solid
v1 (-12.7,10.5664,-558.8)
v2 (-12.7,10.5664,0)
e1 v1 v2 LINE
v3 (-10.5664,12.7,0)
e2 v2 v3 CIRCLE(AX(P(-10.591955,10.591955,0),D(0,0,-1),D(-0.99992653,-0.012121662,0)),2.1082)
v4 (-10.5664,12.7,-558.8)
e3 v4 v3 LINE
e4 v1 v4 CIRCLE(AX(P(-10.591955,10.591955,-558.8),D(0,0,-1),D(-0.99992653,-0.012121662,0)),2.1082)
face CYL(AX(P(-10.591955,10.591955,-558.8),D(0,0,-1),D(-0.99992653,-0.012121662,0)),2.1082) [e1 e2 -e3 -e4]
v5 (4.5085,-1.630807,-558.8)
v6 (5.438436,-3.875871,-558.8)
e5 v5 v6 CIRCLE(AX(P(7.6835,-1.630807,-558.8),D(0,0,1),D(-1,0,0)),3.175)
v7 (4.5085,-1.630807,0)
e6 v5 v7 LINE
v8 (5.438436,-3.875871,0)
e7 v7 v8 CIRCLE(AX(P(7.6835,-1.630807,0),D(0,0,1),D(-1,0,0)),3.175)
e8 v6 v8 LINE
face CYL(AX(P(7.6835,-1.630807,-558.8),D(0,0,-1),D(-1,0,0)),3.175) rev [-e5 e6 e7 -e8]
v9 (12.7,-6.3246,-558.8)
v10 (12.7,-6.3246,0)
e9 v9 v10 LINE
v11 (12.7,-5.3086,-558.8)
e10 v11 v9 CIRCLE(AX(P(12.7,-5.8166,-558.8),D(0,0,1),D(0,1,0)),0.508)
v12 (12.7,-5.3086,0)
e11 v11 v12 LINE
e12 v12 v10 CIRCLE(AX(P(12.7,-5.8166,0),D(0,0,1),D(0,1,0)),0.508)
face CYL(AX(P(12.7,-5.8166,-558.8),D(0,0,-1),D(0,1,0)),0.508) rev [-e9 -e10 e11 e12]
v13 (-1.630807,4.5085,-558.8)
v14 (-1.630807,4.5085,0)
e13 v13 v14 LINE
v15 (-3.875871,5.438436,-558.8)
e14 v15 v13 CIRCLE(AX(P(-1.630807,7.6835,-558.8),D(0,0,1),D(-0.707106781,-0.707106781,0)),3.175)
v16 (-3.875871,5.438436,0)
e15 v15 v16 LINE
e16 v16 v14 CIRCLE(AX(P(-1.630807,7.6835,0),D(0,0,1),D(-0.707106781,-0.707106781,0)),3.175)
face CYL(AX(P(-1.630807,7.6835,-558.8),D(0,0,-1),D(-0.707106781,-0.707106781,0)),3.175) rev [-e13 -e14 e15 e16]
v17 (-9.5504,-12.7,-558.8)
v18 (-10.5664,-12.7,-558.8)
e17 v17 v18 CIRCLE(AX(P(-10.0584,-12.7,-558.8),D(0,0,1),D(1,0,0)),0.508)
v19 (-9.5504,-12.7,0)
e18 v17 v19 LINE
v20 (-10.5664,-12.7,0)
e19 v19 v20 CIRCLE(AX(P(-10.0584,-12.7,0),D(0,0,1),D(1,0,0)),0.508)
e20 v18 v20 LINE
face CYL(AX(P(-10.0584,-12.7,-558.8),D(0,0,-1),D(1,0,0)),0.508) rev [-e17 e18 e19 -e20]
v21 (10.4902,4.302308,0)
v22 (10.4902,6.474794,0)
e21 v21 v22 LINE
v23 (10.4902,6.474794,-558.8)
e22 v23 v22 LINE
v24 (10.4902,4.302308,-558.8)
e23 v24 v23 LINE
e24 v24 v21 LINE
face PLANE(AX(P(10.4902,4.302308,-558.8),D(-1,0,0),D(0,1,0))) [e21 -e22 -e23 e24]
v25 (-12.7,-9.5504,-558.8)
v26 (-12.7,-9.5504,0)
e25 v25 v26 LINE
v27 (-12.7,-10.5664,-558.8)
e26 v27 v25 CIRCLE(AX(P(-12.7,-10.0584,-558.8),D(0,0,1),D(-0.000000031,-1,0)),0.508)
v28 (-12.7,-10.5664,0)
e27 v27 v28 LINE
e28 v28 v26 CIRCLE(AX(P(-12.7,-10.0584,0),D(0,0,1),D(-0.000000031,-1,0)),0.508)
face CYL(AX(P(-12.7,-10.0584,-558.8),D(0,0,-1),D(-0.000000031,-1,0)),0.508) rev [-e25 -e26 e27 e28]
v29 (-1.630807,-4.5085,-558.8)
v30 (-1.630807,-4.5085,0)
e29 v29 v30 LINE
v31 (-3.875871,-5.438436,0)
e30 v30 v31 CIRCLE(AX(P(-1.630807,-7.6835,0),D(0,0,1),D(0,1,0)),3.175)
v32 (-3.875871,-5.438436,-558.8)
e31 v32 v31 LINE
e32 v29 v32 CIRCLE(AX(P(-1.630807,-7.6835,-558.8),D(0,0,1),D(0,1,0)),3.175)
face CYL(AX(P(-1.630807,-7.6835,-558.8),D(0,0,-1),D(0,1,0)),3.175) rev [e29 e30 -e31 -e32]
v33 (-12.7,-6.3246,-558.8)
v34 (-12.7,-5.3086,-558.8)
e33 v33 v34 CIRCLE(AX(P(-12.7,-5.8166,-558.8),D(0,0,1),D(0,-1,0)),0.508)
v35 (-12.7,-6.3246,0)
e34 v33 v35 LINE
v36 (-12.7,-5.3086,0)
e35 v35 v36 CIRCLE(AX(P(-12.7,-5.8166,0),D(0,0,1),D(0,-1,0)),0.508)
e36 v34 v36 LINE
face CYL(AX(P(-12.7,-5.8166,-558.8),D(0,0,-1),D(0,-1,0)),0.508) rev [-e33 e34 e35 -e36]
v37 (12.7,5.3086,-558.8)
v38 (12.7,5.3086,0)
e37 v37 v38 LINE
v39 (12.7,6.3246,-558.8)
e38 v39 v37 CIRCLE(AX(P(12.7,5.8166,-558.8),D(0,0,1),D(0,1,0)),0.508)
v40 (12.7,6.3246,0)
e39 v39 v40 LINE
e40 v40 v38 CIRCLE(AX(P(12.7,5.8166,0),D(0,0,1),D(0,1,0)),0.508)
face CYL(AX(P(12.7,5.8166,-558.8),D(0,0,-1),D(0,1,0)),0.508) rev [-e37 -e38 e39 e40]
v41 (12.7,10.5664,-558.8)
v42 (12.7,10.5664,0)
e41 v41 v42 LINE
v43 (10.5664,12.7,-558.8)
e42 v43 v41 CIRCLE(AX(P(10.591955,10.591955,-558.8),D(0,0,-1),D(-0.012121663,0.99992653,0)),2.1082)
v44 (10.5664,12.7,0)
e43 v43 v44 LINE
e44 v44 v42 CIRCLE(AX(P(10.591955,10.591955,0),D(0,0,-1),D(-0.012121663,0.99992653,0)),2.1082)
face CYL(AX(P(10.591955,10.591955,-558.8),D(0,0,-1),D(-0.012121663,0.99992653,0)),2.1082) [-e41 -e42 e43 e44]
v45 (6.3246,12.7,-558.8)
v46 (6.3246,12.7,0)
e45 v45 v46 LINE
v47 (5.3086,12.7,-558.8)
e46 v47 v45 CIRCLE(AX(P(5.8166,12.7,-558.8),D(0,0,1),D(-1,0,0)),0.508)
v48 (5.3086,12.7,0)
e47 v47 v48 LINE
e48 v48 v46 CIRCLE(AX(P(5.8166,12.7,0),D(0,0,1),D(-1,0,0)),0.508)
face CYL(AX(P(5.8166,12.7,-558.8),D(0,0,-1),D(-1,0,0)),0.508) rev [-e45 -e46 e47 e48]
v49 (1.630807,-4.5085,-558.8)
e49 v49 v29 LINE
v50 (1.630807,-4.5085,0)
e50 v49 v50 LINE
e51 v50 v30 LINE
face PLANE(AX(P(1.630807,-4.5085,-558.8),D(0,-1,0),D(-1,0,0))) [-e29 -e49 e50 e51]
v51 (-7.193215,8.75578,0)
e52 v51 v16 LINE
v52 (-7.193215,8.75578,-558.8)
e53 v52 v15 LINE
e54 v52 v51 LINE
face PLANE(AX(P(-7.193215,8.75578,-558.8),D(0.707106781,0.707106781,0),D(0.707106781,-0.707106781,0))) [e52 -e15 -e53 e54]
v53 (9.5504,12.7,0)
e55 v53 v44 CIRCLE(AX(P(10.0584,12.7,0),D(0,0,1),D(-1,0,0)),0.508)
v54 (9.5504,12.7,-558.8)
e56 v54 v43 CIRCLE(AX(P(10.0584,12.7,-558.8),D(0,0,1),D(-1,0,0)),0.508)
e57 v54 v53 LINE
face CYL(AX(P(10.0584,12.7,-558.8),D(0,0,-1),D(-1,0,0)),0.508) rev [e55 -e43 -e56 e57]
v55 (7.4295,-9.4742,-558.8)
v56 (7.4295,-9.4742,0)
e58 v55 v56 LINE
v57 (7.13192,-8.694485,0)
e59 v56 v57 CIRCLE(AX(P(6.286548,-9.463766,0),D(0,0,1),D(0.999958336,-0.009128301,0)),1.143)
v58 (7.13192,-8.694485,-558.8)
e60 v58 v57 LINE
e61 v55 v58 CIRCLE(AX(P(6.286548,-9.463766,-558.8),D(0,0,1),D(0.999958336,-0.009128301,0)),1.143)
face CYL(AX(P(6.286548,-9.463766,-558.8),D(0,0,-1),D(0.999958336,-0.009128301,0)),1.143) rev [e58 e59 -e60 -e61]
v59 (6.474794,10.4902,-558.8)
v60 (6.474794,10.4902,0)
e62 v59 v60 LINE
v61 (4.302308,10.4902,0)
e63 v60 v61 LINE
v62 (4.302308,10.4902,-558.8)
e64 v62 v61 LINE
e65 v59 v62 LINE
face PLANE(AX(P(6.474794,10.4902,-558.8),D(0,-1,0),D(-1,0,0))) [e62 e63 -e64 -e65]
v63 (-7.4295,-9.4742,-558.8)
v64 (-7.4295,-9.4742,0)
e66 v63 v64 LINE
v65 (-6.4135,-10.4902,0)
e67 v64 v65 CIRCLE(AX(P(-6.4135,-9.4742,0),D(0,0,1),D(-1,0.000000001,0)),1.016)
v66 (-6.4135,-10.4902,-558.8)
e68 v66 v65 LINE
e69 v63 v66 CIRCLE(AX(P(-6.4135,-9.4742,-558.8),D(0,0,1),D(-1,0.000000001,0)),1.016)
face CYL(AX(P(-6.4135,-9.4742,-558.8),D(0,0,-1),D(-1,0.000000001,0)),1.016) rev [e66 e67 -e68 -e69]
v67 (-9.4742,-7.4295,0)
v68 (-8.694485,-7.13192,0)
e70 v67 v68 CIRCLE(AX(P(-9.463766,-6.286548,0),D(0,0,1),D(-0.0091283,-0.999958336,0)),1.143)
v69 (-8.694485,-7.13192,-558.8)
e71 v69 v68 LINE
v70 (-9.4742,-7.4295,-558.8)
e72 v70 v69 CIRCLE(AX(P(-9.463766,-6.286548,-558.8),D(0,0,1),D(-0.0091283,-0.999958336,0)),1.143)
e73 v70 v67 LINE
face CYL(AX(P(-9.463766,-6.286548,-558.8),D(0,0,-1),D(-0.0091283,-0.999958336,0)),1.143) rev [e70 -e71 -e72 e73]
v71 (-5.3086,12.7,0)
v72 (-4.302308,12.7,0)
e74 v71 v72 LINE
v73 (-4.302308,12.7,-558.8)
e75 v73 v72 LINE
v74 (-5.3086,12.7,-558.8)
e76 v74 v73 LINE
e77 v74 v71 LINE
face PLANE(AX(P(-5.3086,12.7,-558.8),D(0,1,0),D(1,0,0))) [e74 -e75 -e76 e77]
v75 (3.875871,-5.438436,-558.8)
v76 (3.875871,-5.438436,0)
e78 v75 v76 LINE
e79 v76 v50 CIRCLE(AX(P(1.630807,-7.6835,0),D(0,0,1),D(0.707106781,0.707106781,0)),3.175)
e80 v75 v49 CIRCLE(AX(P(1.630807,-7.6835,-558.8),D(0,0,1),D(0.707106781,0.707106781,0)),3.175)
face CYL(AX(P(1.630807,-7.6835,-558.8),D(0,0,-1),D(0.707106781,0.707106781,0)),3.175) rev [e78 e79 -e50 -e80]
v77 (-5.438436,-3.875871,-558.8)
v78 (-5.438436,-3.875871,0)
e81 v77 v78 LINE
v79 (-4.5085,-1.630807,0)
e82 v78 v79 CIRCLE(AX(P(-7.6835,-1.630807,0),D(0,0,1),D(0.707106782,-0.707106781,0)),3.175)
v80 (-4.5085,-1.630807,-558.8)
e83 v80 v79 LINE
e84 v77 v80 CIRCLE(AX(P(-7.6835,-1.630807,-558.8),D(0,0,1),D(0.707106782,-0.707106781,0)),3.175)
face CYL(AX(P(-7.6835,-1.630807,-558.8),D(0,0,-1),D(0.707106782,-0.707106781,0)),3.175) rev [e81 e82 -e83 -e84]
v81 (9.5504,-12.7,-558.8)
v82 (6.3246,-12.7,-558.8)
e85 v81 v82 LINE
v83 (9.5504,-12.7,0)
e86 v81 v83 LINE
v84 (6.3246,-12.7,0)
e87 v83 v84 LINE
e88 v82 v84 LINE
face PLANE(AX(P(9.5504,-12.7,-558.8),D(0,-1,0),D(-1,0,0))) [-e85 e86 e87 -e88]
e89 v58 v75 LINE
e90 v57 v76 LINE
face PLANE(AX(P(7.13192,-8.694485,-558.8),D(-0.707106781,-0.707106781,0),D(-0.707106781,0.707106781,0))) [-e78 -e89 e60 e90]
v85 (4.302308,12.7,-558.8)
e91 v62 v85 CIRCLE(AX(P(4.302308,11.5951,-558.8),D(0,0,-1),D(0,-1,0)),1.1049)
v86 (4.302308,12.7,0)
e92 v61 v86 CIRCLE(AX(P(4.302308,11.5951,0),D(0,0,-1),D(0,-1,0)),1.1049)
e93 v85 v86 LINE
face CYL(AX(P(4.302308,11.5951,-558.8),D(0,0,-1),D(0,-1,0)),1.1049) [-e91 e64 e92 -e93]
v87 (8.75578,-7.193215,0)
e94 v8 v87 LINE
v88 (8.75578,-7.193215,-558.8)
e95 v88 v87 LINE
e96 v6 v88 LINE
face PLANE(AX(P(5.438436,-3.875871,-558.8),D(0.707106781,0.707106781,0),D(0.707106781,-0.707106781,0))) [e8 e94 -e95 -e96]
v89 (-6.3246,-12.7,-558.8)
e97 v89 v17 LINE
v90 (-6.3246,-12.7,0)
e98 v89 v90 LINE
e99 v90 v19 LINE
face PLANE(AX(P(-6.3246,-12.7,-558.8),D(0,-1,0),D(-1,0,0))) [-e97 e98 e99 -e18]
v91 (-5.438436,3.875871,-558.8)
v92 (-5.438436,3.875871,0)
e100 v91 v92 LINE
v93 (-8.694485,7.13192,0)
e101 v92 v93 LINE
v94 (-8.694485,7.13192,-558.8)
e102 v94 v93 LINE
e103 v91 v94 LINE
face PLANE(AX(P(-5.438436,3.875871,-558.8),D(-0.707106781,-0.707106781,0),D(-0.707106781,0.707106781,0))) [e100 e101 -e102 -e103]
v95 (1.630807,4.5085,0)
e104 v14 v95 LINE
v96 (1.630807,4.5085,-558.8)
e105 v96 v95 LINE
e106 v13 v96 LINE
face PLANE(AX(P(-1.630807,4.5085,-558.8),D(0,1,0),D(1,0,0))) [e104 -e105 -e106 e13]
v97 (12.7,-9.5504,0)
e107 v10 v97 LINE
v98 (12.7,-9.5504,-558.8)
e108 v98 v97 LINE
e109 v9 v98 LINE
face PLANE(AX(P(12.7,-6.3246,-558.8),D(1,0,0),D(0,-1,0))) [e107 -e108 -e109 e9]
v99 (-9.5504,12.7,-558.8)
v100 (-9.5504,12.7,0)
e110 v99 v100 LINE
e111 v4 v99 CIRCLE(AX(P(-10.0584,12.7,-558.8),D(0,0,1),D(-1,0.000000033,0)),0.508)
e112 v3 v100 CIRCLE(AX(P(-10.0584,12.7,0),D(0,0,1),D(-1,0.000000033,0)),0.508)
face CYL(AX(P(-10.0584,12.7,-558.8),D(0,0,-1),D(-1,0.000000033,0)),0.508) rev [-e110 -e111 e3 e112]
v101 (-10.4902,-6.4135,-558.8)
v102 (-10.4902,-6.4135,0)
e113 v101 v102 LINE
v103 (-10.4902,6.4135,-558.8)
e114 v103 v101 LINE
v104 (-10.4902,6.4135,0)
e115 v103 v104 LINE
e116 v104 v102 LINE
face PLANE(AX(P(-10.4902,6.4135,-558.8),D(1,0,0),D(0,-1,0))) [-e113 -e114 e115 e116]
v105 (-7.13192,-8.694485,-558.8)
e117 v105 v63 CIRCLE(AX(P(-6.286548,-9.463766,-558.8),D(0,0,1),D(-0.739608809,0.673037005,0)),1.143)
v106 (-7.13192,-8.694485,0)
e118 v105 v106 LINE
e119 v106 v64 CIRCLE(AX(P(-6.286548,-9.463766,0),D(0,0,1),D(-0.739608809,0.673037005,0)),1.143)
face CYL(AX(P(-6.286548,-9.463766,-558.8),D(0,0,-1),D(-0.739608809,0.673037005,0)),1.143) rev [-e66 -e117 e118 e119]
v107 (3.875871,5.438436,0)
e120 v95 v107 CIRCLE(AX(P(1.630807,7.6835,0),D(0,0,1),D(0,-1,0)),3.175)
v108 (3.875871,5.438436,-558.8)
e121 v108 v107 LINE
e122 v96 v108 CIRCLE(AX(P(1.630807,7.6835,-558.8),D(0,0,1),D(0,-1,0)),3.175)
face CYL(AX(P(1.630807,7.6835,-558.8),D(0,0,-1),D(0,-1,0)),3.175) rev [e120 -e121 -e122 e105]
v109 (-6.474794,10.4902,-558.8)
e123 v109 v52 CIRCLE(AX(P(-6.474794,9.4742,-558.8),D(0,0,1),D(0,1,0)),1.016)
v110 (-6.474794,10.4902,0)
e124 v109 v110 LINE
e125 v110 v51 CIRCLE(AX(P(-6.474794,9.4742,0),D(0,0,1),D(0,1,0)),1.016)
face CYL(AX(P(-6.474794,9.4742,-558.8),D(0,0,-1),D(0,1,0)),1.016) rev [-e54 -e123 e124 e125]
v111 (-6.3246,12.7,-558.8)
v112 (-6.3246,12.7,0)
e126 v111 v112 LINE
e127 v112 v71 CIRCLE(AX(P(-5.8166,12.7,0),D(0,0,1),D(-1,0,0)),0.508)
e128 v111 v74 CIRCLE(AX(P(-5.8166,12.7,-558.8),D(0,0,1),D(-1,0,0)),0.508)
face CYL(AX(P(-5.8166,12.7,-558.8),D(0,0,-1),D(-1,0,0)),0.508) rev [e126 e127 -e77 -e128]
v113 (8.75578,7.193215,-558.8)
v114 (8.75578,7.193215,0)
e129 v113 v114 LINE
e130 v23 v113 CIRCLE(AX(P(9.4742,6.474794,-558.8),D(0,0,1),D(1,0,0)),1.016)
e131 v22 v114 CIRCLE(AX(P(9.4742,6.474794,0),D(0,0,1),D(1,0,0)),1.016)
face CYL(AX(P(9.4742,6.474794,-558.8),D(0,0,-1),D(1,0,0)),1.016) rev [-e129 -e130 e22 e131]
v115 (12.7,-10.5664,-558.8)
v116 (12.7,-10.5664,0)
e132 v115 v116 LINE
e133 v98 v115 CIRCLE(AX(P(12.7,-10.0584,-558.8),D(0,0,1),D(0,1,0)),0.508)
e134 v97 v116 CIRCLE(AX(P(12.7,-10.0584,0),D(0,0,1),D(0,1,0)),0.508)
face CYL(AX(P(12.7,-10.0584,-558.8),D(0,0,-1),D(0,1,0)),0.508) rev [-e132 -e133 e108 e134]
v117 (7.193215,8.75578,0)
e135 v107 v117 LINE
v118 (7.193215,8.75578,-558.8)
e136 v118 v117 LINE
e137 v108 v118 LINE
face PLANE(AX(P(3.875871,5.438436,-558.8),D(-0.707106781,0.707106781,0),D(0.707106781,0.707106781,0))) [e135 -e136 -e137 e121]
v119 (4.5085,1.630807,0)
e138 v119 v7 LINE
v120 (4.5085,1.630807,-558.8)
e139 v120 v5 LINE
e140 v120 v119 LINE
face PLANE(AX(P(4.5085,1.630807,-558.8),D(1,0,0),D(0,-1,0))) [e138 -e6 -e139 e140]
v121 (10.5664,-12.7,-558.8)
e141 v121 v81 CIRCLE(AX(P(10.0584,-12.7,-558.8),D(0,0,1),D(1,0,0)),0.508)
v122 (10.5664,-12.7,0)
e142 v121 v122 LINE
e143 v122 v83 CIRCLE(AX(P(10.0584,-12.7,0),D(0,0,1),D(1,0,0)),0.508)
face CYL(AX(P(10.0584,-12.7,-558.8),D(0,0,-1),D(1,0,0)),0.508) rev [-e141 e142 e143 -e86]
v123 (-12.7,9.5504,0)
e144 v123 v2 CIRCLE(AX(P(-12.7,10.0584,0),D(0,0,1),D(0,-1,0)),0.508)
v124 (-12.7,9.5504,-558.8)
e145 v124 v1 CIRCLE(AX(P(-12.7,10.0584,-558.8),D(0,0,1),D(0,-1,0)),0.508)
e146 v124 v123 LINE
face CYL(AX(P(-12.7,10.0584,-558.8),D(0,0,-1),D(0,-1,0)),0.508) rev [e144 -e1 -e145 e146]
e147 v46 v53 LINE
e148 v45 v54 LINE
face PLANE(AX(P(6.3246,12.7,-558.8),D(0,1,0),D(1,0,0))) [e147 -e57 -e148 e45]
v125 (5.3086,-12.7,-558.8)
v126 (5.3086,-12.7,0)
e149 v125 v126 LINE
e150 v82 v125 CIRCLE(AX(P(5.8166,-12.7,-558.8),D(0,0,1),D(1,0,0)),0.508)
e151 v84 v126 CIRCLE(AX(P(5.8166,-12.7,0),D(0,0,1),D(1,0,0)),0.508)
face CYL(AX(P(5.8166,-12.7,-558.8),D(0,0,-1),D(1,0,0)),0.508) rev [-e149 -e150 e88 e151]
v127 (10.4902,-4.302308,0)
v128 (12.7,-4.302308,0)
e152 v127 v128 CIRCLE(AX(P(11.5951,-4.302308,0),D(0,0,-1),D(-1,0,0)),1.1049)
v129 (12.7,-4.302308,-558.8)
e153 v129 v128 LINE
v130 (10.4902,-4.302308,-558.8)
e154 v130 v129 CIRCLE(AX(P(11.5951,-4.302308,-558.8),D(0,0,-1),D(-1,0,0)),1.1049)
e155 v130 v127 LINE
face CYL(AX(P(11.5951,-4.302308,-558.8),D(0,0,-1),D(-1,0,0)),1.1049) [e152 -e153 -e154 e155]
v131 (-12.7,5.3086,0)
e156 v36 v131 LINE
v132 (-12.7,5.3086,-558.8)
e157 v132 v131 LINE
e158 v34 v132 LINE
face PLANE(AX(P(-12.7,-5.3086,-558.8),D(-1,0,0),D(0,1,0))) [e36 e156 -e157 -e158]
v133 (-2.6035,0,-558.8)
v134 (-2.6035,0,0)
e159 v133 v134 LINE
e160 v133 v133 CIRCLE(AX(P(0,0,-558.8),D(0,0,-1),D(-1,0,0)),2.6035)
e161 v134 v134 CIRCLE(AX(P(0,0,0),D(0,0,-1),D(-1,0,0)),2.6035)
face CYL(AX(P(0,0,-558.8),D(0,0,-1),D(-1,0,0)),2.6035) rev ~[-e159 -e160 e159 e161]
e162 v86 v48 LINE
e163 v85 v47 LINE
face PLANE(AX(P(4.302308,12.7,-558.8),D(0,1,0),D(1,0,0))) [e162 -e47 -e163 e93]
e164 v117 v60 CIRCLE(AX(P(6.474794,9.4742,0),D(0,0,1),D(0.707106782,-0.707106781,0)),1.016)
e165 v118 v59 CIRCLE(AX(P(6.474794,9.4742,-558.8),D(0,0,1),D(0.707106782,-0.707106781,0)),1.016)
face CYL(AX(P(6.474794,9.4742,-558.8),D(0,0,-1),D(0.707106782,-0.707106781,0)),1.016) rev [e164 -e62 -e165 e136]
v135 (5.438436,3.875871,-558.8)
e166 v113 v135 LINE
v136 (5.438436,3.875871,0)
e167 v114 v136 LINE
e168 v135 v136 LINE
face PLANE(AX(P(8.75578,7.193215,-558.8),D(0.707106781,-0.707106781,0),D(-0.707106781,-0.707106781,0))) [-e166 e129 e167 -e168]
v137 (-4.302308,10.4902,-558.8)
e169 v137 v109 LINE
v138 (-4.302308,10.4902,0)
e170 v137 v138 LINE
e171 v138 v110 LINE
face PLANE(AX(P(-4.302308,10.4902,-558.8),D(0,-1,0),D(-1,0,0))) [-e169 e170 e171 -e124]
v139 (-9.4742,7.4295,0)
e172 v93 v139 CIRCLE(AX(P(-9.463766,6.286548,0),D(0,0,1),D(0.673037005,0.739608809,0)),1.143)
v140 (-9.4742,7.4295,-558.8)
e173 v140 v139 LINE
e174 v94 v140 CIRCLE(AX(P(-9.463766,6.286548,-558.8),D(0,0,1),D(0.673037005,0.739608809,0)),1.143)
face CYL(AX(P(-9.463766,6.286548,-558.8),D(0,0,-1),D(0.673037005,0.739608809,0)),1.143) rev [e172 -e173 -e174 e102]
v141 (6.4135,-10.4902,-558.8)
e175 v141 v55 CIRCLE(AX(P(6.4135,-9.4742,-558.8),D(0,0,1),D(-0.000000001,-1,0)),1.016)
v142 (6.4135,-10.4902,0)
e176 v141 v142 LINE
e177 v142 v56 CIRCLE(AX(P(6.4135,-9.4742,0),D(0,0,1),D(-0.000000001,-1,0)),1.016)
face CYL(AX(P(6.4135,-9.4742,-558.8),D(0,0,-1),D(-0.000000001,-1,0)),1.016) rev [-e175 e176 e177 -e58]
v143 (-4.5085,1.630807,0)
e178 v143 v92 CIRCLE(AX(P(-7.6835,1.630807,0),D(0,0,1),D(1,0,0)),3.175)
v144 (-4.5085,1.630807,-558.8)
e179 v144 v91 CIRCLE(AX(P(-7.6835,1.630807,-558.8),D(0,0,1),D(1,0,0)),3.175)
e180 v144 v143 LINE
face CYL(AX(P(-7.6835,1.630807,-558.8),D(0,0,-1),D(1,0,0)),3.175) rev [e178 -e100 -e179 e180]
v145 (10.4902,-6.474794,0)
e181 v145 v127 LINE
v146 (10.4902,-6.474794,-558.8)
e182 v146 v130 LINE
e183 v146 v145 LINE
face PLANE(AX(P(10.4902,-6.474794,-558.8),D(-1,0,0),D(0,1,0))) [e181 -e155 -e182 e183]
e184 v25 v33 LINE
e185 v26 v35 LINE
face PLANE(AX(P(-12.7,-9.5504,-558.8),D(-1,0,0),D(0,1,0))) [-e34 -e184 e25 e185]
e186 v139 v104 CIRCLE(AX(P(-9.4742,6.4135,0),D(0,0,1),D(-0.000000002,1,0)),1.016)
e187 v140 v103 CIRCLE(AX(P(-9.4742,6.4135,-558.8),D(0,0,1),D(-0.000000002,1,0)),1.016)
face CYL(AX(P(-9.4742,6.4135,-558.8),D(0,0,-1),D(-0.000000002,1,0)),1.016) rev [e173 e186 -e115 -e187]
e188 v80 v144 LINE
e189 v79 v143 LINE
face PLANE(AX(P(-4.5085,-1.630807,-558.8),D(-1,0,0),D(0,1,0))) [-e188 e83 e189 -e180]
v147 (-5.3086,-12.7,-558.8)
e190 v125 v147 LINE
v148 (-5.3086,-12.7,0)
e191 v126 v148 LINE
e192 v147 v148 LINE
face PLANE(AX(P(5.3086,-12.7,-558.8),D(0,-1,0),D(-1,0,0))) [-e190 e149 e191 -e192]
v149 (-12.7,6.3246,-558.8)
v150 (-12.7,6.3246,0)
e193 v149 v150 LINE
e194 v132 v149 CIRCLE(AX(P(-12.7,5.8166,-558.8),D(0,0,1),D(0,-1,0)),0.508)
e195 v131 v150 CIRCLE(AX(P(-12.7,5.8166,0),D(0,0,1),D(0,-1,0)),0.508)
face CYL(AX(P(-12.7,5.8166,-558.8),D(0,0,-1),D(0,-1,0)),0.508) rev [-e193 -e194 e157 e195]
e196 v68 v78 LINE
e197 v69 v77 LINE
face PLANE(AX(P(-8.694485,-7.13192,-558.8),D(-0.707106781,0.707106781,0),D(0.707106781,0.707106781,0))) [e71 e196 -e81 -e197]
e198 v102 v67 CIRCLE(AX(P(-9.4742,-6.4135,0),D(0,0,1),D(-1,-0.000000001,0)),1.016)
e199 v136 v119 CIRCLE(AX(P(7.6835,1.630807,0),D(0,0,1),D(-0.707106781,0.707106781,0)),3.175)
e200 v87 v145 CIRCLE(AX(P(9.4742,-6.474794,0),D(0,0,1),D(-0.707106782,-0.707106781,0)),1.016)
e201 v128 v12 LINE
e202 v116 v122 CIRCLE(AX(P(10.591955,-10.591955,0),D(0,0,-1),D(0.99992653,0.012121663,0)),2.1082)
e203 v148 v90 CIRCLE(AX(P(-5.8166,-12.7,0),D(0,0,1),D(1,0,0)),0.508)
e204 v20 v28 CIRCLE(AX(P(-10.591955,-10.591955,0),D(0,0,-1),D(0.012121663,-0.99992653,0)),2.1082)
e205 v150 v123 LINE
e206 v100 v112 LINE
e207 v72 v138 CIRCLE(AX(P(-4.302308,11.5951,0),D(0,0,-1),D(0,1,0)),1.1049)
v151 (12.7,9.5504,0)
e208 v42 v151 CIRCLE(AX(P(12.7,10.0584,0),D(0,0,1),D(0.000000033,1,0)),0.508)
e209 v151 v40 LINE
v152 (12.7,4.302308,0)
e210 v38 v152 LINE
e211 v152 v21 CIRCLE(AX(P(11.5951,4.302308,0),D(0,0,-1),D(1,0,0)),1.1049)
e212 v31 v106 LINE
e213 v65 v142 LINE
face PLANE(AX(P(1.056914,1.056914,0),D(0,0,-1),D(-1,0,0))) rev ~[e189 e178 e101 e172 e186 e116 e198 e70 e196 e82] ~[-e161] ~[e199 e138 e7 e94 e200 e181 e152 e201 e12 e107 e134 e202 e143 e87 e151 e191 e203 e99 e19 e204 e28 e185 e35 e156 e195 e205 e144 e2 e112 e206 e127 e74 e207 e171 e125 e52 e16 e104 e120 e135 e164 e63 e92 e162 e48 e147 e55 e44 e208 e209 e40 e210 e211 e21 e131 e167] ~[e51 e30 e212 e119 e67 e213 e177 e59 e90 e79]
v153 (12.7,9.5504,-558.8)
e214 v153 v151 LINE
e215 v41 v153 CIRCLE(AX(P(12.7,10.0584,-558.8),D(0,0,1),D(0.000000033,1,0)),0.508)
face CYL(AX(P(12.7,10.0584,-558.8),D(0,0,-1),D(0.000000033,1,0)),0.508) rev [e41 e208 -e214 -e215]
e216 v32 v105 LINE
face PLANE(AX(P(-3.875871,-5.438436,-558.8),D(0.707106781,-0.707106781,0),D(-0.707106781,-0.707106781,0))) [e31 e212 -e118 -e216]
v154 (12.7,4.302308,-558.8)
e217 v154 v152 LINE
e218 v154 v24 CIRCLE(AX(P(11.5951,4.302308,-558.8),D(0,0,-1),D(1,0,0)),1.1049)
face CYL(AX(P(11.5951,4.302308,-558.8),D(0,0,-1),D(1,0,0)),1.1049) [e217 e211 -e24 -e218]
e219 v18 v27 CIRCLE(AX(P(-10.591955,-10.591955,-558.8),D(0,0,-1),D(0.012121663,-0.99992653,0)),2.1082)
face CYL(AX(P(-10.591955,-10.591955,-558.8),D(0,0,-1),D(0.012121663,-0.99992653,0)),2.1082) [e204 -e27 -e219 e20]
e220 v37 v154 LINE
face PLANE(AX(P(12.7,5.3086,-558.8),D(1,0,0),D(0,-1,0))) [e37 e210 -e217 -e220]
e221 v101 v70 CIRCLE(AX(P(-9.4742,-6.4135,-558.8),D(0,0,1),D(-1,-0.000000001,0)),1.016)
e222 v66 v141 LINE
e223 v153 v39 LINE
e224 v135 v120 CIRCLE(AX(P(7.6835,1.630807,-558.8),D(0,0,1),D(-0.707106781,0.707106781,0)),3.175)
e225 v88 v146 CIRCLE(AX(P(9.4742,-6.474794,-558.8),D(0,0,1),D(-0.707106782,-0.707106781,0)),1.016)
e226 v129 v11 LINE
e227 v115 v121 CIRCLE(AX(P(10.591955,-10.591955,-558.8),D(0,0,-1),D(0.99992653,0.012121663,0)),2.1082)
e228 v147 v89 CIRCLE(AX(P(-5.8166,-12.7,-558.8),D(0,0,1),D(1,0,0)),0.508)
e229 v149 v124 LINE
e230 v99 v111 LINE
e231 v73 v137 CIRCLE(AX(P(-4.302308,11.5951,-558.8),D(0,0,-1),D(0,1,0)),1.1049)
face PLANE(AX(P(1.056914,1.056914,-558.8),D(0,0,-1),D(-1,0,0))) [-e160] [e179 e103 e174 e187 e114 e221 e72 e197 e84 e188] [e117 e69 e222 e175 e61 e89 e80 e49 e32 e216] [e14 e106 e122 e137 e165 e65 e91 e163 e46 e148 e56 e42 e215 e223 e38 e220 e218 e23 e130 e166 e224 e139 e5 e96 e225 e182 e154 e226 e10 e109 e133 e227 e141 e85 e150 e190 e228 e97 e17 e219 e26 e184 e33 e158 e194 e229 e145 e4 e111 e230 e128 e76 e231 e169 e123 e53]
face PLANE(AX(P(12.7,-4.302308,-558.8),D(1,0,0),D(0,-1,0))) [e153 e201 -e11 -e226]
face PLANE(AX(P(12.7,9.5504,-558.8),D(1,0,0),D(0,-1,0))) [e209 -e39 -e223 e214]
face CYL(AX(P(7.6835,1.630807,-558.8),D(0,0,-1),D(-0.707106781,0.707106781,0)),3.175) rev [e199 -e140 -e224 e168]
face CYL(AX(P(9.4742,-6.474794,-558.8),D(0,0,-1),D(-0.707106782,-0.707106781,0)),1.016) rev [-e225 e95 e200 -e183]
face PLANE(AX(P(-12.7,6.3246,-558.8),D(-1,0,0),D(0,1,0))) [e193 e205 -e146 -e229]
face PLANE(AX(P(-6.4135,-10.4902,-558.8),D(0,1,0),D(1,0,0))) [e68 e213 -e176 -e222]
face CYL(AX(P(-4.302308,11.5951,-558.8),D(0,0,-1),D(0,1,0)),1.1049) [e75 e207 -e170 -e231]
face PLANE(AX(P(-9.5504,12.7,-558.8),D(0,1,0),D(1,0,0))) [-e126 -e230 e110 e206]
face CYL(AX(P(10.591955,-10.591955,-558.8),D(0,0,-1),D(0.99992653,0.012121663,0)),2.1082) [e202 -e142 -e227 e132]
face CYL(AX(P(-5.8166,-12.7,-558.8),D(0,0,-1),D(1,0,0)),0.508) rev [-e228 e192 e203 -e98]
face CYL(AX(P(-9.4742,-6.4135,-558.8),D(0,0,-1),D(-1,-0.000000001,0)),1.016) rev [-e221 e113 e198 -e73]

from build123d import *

# Parameters (mm, degrees)
SKETCH1_R           = 2.6035
BOSS_EXTRUDE1_DEPTH = 558.8


with BuildPart() as part:
    # Sketch1 → Boss-Extrude1 (new body)
    with BuildSketch(Plane(origin=(0, 0, -558.8), x_dir=(-1, 0, 0), z_dir=(0, 0, -1))):
        with BuildLine():
            Line((12.699999967, -9.5504), (12.699999967, -6.3246))
            ThreePointArc((12.699999967, -6.3246), (12.191999967, -5.8166), (12.699999967, -5.3086))
            Line((12.699999967, -5.3086), (12.699999967, 5.3086))
            ThreePointArc((12.699999967, 5.3086), (12.191999967, 5.8166), (12.699999967, 6.3246))
            Line((12.699999967, 6.3246), (12.699999967, 9.550399967))
            ThreePointArc((12.699999967, 9.550399967), (12.191999934, 10.058400016), (12.699999999, 10.566400033))
            ThreePointArc((12.699999999, 10.566400033), (12.082677404, 12.082677438), (10.566399999, 12.700000033))
            ThreePointArc((10.566399999, 12.700000033), (10.058400007, 12.192000016), (9.550399999, 12.700000016))
            Line((9.550399999, 12.700000016), (6.324599999, 12.700000016))
            ThreePointArc((6.324599999, 12.700000016), (5.816599999, 12.192000016), (5.308599999, 12.700000016))
            Line((5.308599999, 12.700000016), (4.302307888, 12.700000016))
            ThreePointArc((4.302307888, 12.700000016), (3.197407888, 11.595100016), (4.302307888, 10.490200016))
            Line((4.302307888, 10.490200016), (6.474794464, 10.490200016))
            ThreePointArc((6.474794464, 10.490200016), (7.413456072, 9.863006381), (7.193214956, 8.755779521))
            Line((7.193214956, 8.755779521), (3.875871421, 5.438435986))
            ThreePointArc((3.875871421, 5.438435986), (2.845827288, 4.7501825), (1.63080739, 4.508500016))
            Line((1.63080739, 4.508500016), (-1.630807376, 4.508500016))
            ThreePointArc((-1.630807376, 4.508500016), (-2.845827273, 4.7501825), (-3.875871406, 5.438435986))
            Line((-3.875871406, 5.438435986), (-7.193214947, 8.755779526))
            ThreePointArc((-7.193214947, 8.755779526), (-7.413456062, 9.863006383), (-6.474794457, 10.490200016))
            Line((-6.474794457, 10.490200016), (-4.302307919, 10.490200016))
            ThreePointArc((-4.302307919, 10.490200016), (-3.197407919, 11.595100016), (-4.302307919, 12.700000016))
            Line((-4.302307919, 12.700000016), (-5.308600001, 12.700000016))
            ThreePointArc((-5.308600001, 12.700000016), (-5.816600001, 12.192000016), (-6.324600001, 12.700000016))
            Line((-6.324600001, 12.700000016), (-9.550400001, 12.700000016))
            ThreePointArc((-9.550400001, 12.700000016), (-10.058400001, 12.192000016), (-10.566400001, 12.700000016))
            ThreePointArc((-10.566400001, 12.700000016), (-12.082677418, 12.082677417), (-12.700000017, 10.5664))
            ThreePointArc((-12.700000017, 10.5664), (-12.192, 10.058400008), (-12.7, 9.5504))
            Line((-12.7, 9.5504), (-12.7, 6.3246))
            ThreePointArc((-12.7, 6.3246), (-12.192, 5.8166), (-12.7, 5.3086))
            Line((-12.7, 5.3086), (-12.7, 4.302307889))
            ThreePointArc((-12.7, 4.302307889), (-11.5951, 3.197407889), (-10.4902, 4.302307889))
            Line((-10.4902, 4.302307889), (-10.4902, 6.474794456))
            ThreePointArc((-10.4902, 6.474794456), (-9.863006367, 7.413456061), (-8.75577951, 7.193214945))
            Line((-8.75577951, 7.193214945), (-5.43843597, 3.875871405))
            ThreePointArc((-5.43843597, 3.875871405), (-4.750182484, 2.845827272), (-4.5085, 1.630807374))
            Line((-4.5085, 1.630807374), (-4.5085, -1.630807374))
            ThreePointArc((-4.5085, -1.630807374), (-4.750182484, -2.845827272), (-5.43843597, -3.875871405))
            Line((-5.43843597, -3.875871405), (-8.75577951, -7.193214945))
            ThreePointArc((-8.75577951, -7.193214945), (-9.863006367, -7.413456061), (-10.4902, -6.474794456))
            Line((-10.4902, -6.474794456), (-10.4902, -4.302307918))
            ThreePointArc((-10.4902, -4.302307918), (-11.5951, -3.197407918), (-12.7, -4.302307918))
            Line((-12.7, -4.302307918), (-12.7, -5.3086))
            ThreePointArc((-12.7, -5.3086), (-12.192, -5.8166), (-12.7, -6.3246))
            Line((-12.7, -6.3246), (-12.7, -9.5504))
            ThreePointArc((-12.7, -9.5504), (-12.192, -10.058400008), (-12.700000017, -10.5664))
            ThreePointArc((-12.700000017, -10.5664), (-12.082677422, -12.082677406), (-10.566400017, -12.7))
            ThreePointArc((-10.566400017, -12.7), (-10.058400017, -12.192), (-9.550400017, -12.7))
            Line((-9.550400017, -12.7), (-6.324600017, -12.7))
            ThreePointArc((-6.324600017, -12.7), (-5.816600017, -12.192), (-5.308600017, -12.7))
            Line((-5.308600017, -12.7), (5.308599983, -12.7))
            ThreePointArc((5.308599983, -12.7), (5.816599983, -12.192), (6.324599983, -12.7))
            Line((6.324599983, -12.7), (9.550399983, -12.7))
            ThreePointArc((9.550399983, -12.7), (10.058399983, -12.192), (10.566399983, -12.7))
            ThreePointArc((10.566399983, -12.7), (12.082677389, -12.082677406), (12.699999983, -10.5664))
            ThreePointArc((12.699999983, -10.5664), (12.191999967, -10.058400008), (12.699999967, -9.5504))
        make_face()
        Circle(SKETCH1_R, mode=Mode.SUBTRACT)
        with BuildLine():
            Line((3.875871405, -5.43843597), (7.13192049, -8.694485055))
            ThreePointArc((7.13192049, -8.694485055), (7.35441848, -9.056211656), (7.4295, -9.4742))
            ThreePointArc((7.4295, -9.4742), (7.13192049, -10.19262049), (6.4135, -10.4902))
            Line((6.4135, -10.4902), (-6.4135, -10.4902))
            ThreePointArc((-6.4135, -10.4902), (-7.13192049, -10.19262049), (-7.4295, -9.4742))
            ThreePointArc((-7.4295, -9.4742), (-7.35441848, -9.056211656), (-7.13192049, -8.694485055))
            Line((-7.13192049, -8.694485055), (-3.875871405, -5.43843597))
            ThreePointArc((-3.875871405, -5.43843597), (-2.845827272, -4.750182484), (-1.630807374, -4.5085))
            Line((-1.630807374, -4.5085), (1.630807374, -4.5085))
            ThreePointArc((1.630807374, -4.5085), (2.845827272, -4.750182484), (3.875871405, -5.43843597))
        make_face(mode=Mode.SUBTRACT)
        with BuildLine():
            Line((10.490199999, 6.4135), (10.490199999, -6.413499984))
            ThreePointArc((10.490199999, -6.413499984), (10.192620488, -7.131920474), (9.474199999, -7.429499984))
            ThreePointArc((9.474199999, -7.429499984), (9.056211655, -7.354418464), (8.694485053, -7.131920474))
            Line((8.694485053, -7.131920474), (5.438435968, -3.875871389))
            ThreePointArc((5.438435968, -3.875871389), (4.750182483, -2.845827256), (4.508499999, -1.630807359))
            Line((4.508499999, -1.630807359), (4.508499999, 1.630807373))
            ThreePointArc((4.508499999, 1.630807373), (4.750182483, 2.845827271), (5.438435968, 3.875871403))
            Line((5.438435968, 3.875871403), (8.694485055, 7.13192049))
            ThreePointArc((8.694485055, 7.13192049), (9.056211656, 7.35441848), (9.4742, 7.4295))
            ThreePointArc((9.4742, 7.4295), (10.192620489, 7.131920489), (10.490199999, 6.4135))
        make_face(mode=Mode.SUBTRACT)
    extrude(amount=-BOSS_EXTRUDE1_DEPTH)


solid = part.part
